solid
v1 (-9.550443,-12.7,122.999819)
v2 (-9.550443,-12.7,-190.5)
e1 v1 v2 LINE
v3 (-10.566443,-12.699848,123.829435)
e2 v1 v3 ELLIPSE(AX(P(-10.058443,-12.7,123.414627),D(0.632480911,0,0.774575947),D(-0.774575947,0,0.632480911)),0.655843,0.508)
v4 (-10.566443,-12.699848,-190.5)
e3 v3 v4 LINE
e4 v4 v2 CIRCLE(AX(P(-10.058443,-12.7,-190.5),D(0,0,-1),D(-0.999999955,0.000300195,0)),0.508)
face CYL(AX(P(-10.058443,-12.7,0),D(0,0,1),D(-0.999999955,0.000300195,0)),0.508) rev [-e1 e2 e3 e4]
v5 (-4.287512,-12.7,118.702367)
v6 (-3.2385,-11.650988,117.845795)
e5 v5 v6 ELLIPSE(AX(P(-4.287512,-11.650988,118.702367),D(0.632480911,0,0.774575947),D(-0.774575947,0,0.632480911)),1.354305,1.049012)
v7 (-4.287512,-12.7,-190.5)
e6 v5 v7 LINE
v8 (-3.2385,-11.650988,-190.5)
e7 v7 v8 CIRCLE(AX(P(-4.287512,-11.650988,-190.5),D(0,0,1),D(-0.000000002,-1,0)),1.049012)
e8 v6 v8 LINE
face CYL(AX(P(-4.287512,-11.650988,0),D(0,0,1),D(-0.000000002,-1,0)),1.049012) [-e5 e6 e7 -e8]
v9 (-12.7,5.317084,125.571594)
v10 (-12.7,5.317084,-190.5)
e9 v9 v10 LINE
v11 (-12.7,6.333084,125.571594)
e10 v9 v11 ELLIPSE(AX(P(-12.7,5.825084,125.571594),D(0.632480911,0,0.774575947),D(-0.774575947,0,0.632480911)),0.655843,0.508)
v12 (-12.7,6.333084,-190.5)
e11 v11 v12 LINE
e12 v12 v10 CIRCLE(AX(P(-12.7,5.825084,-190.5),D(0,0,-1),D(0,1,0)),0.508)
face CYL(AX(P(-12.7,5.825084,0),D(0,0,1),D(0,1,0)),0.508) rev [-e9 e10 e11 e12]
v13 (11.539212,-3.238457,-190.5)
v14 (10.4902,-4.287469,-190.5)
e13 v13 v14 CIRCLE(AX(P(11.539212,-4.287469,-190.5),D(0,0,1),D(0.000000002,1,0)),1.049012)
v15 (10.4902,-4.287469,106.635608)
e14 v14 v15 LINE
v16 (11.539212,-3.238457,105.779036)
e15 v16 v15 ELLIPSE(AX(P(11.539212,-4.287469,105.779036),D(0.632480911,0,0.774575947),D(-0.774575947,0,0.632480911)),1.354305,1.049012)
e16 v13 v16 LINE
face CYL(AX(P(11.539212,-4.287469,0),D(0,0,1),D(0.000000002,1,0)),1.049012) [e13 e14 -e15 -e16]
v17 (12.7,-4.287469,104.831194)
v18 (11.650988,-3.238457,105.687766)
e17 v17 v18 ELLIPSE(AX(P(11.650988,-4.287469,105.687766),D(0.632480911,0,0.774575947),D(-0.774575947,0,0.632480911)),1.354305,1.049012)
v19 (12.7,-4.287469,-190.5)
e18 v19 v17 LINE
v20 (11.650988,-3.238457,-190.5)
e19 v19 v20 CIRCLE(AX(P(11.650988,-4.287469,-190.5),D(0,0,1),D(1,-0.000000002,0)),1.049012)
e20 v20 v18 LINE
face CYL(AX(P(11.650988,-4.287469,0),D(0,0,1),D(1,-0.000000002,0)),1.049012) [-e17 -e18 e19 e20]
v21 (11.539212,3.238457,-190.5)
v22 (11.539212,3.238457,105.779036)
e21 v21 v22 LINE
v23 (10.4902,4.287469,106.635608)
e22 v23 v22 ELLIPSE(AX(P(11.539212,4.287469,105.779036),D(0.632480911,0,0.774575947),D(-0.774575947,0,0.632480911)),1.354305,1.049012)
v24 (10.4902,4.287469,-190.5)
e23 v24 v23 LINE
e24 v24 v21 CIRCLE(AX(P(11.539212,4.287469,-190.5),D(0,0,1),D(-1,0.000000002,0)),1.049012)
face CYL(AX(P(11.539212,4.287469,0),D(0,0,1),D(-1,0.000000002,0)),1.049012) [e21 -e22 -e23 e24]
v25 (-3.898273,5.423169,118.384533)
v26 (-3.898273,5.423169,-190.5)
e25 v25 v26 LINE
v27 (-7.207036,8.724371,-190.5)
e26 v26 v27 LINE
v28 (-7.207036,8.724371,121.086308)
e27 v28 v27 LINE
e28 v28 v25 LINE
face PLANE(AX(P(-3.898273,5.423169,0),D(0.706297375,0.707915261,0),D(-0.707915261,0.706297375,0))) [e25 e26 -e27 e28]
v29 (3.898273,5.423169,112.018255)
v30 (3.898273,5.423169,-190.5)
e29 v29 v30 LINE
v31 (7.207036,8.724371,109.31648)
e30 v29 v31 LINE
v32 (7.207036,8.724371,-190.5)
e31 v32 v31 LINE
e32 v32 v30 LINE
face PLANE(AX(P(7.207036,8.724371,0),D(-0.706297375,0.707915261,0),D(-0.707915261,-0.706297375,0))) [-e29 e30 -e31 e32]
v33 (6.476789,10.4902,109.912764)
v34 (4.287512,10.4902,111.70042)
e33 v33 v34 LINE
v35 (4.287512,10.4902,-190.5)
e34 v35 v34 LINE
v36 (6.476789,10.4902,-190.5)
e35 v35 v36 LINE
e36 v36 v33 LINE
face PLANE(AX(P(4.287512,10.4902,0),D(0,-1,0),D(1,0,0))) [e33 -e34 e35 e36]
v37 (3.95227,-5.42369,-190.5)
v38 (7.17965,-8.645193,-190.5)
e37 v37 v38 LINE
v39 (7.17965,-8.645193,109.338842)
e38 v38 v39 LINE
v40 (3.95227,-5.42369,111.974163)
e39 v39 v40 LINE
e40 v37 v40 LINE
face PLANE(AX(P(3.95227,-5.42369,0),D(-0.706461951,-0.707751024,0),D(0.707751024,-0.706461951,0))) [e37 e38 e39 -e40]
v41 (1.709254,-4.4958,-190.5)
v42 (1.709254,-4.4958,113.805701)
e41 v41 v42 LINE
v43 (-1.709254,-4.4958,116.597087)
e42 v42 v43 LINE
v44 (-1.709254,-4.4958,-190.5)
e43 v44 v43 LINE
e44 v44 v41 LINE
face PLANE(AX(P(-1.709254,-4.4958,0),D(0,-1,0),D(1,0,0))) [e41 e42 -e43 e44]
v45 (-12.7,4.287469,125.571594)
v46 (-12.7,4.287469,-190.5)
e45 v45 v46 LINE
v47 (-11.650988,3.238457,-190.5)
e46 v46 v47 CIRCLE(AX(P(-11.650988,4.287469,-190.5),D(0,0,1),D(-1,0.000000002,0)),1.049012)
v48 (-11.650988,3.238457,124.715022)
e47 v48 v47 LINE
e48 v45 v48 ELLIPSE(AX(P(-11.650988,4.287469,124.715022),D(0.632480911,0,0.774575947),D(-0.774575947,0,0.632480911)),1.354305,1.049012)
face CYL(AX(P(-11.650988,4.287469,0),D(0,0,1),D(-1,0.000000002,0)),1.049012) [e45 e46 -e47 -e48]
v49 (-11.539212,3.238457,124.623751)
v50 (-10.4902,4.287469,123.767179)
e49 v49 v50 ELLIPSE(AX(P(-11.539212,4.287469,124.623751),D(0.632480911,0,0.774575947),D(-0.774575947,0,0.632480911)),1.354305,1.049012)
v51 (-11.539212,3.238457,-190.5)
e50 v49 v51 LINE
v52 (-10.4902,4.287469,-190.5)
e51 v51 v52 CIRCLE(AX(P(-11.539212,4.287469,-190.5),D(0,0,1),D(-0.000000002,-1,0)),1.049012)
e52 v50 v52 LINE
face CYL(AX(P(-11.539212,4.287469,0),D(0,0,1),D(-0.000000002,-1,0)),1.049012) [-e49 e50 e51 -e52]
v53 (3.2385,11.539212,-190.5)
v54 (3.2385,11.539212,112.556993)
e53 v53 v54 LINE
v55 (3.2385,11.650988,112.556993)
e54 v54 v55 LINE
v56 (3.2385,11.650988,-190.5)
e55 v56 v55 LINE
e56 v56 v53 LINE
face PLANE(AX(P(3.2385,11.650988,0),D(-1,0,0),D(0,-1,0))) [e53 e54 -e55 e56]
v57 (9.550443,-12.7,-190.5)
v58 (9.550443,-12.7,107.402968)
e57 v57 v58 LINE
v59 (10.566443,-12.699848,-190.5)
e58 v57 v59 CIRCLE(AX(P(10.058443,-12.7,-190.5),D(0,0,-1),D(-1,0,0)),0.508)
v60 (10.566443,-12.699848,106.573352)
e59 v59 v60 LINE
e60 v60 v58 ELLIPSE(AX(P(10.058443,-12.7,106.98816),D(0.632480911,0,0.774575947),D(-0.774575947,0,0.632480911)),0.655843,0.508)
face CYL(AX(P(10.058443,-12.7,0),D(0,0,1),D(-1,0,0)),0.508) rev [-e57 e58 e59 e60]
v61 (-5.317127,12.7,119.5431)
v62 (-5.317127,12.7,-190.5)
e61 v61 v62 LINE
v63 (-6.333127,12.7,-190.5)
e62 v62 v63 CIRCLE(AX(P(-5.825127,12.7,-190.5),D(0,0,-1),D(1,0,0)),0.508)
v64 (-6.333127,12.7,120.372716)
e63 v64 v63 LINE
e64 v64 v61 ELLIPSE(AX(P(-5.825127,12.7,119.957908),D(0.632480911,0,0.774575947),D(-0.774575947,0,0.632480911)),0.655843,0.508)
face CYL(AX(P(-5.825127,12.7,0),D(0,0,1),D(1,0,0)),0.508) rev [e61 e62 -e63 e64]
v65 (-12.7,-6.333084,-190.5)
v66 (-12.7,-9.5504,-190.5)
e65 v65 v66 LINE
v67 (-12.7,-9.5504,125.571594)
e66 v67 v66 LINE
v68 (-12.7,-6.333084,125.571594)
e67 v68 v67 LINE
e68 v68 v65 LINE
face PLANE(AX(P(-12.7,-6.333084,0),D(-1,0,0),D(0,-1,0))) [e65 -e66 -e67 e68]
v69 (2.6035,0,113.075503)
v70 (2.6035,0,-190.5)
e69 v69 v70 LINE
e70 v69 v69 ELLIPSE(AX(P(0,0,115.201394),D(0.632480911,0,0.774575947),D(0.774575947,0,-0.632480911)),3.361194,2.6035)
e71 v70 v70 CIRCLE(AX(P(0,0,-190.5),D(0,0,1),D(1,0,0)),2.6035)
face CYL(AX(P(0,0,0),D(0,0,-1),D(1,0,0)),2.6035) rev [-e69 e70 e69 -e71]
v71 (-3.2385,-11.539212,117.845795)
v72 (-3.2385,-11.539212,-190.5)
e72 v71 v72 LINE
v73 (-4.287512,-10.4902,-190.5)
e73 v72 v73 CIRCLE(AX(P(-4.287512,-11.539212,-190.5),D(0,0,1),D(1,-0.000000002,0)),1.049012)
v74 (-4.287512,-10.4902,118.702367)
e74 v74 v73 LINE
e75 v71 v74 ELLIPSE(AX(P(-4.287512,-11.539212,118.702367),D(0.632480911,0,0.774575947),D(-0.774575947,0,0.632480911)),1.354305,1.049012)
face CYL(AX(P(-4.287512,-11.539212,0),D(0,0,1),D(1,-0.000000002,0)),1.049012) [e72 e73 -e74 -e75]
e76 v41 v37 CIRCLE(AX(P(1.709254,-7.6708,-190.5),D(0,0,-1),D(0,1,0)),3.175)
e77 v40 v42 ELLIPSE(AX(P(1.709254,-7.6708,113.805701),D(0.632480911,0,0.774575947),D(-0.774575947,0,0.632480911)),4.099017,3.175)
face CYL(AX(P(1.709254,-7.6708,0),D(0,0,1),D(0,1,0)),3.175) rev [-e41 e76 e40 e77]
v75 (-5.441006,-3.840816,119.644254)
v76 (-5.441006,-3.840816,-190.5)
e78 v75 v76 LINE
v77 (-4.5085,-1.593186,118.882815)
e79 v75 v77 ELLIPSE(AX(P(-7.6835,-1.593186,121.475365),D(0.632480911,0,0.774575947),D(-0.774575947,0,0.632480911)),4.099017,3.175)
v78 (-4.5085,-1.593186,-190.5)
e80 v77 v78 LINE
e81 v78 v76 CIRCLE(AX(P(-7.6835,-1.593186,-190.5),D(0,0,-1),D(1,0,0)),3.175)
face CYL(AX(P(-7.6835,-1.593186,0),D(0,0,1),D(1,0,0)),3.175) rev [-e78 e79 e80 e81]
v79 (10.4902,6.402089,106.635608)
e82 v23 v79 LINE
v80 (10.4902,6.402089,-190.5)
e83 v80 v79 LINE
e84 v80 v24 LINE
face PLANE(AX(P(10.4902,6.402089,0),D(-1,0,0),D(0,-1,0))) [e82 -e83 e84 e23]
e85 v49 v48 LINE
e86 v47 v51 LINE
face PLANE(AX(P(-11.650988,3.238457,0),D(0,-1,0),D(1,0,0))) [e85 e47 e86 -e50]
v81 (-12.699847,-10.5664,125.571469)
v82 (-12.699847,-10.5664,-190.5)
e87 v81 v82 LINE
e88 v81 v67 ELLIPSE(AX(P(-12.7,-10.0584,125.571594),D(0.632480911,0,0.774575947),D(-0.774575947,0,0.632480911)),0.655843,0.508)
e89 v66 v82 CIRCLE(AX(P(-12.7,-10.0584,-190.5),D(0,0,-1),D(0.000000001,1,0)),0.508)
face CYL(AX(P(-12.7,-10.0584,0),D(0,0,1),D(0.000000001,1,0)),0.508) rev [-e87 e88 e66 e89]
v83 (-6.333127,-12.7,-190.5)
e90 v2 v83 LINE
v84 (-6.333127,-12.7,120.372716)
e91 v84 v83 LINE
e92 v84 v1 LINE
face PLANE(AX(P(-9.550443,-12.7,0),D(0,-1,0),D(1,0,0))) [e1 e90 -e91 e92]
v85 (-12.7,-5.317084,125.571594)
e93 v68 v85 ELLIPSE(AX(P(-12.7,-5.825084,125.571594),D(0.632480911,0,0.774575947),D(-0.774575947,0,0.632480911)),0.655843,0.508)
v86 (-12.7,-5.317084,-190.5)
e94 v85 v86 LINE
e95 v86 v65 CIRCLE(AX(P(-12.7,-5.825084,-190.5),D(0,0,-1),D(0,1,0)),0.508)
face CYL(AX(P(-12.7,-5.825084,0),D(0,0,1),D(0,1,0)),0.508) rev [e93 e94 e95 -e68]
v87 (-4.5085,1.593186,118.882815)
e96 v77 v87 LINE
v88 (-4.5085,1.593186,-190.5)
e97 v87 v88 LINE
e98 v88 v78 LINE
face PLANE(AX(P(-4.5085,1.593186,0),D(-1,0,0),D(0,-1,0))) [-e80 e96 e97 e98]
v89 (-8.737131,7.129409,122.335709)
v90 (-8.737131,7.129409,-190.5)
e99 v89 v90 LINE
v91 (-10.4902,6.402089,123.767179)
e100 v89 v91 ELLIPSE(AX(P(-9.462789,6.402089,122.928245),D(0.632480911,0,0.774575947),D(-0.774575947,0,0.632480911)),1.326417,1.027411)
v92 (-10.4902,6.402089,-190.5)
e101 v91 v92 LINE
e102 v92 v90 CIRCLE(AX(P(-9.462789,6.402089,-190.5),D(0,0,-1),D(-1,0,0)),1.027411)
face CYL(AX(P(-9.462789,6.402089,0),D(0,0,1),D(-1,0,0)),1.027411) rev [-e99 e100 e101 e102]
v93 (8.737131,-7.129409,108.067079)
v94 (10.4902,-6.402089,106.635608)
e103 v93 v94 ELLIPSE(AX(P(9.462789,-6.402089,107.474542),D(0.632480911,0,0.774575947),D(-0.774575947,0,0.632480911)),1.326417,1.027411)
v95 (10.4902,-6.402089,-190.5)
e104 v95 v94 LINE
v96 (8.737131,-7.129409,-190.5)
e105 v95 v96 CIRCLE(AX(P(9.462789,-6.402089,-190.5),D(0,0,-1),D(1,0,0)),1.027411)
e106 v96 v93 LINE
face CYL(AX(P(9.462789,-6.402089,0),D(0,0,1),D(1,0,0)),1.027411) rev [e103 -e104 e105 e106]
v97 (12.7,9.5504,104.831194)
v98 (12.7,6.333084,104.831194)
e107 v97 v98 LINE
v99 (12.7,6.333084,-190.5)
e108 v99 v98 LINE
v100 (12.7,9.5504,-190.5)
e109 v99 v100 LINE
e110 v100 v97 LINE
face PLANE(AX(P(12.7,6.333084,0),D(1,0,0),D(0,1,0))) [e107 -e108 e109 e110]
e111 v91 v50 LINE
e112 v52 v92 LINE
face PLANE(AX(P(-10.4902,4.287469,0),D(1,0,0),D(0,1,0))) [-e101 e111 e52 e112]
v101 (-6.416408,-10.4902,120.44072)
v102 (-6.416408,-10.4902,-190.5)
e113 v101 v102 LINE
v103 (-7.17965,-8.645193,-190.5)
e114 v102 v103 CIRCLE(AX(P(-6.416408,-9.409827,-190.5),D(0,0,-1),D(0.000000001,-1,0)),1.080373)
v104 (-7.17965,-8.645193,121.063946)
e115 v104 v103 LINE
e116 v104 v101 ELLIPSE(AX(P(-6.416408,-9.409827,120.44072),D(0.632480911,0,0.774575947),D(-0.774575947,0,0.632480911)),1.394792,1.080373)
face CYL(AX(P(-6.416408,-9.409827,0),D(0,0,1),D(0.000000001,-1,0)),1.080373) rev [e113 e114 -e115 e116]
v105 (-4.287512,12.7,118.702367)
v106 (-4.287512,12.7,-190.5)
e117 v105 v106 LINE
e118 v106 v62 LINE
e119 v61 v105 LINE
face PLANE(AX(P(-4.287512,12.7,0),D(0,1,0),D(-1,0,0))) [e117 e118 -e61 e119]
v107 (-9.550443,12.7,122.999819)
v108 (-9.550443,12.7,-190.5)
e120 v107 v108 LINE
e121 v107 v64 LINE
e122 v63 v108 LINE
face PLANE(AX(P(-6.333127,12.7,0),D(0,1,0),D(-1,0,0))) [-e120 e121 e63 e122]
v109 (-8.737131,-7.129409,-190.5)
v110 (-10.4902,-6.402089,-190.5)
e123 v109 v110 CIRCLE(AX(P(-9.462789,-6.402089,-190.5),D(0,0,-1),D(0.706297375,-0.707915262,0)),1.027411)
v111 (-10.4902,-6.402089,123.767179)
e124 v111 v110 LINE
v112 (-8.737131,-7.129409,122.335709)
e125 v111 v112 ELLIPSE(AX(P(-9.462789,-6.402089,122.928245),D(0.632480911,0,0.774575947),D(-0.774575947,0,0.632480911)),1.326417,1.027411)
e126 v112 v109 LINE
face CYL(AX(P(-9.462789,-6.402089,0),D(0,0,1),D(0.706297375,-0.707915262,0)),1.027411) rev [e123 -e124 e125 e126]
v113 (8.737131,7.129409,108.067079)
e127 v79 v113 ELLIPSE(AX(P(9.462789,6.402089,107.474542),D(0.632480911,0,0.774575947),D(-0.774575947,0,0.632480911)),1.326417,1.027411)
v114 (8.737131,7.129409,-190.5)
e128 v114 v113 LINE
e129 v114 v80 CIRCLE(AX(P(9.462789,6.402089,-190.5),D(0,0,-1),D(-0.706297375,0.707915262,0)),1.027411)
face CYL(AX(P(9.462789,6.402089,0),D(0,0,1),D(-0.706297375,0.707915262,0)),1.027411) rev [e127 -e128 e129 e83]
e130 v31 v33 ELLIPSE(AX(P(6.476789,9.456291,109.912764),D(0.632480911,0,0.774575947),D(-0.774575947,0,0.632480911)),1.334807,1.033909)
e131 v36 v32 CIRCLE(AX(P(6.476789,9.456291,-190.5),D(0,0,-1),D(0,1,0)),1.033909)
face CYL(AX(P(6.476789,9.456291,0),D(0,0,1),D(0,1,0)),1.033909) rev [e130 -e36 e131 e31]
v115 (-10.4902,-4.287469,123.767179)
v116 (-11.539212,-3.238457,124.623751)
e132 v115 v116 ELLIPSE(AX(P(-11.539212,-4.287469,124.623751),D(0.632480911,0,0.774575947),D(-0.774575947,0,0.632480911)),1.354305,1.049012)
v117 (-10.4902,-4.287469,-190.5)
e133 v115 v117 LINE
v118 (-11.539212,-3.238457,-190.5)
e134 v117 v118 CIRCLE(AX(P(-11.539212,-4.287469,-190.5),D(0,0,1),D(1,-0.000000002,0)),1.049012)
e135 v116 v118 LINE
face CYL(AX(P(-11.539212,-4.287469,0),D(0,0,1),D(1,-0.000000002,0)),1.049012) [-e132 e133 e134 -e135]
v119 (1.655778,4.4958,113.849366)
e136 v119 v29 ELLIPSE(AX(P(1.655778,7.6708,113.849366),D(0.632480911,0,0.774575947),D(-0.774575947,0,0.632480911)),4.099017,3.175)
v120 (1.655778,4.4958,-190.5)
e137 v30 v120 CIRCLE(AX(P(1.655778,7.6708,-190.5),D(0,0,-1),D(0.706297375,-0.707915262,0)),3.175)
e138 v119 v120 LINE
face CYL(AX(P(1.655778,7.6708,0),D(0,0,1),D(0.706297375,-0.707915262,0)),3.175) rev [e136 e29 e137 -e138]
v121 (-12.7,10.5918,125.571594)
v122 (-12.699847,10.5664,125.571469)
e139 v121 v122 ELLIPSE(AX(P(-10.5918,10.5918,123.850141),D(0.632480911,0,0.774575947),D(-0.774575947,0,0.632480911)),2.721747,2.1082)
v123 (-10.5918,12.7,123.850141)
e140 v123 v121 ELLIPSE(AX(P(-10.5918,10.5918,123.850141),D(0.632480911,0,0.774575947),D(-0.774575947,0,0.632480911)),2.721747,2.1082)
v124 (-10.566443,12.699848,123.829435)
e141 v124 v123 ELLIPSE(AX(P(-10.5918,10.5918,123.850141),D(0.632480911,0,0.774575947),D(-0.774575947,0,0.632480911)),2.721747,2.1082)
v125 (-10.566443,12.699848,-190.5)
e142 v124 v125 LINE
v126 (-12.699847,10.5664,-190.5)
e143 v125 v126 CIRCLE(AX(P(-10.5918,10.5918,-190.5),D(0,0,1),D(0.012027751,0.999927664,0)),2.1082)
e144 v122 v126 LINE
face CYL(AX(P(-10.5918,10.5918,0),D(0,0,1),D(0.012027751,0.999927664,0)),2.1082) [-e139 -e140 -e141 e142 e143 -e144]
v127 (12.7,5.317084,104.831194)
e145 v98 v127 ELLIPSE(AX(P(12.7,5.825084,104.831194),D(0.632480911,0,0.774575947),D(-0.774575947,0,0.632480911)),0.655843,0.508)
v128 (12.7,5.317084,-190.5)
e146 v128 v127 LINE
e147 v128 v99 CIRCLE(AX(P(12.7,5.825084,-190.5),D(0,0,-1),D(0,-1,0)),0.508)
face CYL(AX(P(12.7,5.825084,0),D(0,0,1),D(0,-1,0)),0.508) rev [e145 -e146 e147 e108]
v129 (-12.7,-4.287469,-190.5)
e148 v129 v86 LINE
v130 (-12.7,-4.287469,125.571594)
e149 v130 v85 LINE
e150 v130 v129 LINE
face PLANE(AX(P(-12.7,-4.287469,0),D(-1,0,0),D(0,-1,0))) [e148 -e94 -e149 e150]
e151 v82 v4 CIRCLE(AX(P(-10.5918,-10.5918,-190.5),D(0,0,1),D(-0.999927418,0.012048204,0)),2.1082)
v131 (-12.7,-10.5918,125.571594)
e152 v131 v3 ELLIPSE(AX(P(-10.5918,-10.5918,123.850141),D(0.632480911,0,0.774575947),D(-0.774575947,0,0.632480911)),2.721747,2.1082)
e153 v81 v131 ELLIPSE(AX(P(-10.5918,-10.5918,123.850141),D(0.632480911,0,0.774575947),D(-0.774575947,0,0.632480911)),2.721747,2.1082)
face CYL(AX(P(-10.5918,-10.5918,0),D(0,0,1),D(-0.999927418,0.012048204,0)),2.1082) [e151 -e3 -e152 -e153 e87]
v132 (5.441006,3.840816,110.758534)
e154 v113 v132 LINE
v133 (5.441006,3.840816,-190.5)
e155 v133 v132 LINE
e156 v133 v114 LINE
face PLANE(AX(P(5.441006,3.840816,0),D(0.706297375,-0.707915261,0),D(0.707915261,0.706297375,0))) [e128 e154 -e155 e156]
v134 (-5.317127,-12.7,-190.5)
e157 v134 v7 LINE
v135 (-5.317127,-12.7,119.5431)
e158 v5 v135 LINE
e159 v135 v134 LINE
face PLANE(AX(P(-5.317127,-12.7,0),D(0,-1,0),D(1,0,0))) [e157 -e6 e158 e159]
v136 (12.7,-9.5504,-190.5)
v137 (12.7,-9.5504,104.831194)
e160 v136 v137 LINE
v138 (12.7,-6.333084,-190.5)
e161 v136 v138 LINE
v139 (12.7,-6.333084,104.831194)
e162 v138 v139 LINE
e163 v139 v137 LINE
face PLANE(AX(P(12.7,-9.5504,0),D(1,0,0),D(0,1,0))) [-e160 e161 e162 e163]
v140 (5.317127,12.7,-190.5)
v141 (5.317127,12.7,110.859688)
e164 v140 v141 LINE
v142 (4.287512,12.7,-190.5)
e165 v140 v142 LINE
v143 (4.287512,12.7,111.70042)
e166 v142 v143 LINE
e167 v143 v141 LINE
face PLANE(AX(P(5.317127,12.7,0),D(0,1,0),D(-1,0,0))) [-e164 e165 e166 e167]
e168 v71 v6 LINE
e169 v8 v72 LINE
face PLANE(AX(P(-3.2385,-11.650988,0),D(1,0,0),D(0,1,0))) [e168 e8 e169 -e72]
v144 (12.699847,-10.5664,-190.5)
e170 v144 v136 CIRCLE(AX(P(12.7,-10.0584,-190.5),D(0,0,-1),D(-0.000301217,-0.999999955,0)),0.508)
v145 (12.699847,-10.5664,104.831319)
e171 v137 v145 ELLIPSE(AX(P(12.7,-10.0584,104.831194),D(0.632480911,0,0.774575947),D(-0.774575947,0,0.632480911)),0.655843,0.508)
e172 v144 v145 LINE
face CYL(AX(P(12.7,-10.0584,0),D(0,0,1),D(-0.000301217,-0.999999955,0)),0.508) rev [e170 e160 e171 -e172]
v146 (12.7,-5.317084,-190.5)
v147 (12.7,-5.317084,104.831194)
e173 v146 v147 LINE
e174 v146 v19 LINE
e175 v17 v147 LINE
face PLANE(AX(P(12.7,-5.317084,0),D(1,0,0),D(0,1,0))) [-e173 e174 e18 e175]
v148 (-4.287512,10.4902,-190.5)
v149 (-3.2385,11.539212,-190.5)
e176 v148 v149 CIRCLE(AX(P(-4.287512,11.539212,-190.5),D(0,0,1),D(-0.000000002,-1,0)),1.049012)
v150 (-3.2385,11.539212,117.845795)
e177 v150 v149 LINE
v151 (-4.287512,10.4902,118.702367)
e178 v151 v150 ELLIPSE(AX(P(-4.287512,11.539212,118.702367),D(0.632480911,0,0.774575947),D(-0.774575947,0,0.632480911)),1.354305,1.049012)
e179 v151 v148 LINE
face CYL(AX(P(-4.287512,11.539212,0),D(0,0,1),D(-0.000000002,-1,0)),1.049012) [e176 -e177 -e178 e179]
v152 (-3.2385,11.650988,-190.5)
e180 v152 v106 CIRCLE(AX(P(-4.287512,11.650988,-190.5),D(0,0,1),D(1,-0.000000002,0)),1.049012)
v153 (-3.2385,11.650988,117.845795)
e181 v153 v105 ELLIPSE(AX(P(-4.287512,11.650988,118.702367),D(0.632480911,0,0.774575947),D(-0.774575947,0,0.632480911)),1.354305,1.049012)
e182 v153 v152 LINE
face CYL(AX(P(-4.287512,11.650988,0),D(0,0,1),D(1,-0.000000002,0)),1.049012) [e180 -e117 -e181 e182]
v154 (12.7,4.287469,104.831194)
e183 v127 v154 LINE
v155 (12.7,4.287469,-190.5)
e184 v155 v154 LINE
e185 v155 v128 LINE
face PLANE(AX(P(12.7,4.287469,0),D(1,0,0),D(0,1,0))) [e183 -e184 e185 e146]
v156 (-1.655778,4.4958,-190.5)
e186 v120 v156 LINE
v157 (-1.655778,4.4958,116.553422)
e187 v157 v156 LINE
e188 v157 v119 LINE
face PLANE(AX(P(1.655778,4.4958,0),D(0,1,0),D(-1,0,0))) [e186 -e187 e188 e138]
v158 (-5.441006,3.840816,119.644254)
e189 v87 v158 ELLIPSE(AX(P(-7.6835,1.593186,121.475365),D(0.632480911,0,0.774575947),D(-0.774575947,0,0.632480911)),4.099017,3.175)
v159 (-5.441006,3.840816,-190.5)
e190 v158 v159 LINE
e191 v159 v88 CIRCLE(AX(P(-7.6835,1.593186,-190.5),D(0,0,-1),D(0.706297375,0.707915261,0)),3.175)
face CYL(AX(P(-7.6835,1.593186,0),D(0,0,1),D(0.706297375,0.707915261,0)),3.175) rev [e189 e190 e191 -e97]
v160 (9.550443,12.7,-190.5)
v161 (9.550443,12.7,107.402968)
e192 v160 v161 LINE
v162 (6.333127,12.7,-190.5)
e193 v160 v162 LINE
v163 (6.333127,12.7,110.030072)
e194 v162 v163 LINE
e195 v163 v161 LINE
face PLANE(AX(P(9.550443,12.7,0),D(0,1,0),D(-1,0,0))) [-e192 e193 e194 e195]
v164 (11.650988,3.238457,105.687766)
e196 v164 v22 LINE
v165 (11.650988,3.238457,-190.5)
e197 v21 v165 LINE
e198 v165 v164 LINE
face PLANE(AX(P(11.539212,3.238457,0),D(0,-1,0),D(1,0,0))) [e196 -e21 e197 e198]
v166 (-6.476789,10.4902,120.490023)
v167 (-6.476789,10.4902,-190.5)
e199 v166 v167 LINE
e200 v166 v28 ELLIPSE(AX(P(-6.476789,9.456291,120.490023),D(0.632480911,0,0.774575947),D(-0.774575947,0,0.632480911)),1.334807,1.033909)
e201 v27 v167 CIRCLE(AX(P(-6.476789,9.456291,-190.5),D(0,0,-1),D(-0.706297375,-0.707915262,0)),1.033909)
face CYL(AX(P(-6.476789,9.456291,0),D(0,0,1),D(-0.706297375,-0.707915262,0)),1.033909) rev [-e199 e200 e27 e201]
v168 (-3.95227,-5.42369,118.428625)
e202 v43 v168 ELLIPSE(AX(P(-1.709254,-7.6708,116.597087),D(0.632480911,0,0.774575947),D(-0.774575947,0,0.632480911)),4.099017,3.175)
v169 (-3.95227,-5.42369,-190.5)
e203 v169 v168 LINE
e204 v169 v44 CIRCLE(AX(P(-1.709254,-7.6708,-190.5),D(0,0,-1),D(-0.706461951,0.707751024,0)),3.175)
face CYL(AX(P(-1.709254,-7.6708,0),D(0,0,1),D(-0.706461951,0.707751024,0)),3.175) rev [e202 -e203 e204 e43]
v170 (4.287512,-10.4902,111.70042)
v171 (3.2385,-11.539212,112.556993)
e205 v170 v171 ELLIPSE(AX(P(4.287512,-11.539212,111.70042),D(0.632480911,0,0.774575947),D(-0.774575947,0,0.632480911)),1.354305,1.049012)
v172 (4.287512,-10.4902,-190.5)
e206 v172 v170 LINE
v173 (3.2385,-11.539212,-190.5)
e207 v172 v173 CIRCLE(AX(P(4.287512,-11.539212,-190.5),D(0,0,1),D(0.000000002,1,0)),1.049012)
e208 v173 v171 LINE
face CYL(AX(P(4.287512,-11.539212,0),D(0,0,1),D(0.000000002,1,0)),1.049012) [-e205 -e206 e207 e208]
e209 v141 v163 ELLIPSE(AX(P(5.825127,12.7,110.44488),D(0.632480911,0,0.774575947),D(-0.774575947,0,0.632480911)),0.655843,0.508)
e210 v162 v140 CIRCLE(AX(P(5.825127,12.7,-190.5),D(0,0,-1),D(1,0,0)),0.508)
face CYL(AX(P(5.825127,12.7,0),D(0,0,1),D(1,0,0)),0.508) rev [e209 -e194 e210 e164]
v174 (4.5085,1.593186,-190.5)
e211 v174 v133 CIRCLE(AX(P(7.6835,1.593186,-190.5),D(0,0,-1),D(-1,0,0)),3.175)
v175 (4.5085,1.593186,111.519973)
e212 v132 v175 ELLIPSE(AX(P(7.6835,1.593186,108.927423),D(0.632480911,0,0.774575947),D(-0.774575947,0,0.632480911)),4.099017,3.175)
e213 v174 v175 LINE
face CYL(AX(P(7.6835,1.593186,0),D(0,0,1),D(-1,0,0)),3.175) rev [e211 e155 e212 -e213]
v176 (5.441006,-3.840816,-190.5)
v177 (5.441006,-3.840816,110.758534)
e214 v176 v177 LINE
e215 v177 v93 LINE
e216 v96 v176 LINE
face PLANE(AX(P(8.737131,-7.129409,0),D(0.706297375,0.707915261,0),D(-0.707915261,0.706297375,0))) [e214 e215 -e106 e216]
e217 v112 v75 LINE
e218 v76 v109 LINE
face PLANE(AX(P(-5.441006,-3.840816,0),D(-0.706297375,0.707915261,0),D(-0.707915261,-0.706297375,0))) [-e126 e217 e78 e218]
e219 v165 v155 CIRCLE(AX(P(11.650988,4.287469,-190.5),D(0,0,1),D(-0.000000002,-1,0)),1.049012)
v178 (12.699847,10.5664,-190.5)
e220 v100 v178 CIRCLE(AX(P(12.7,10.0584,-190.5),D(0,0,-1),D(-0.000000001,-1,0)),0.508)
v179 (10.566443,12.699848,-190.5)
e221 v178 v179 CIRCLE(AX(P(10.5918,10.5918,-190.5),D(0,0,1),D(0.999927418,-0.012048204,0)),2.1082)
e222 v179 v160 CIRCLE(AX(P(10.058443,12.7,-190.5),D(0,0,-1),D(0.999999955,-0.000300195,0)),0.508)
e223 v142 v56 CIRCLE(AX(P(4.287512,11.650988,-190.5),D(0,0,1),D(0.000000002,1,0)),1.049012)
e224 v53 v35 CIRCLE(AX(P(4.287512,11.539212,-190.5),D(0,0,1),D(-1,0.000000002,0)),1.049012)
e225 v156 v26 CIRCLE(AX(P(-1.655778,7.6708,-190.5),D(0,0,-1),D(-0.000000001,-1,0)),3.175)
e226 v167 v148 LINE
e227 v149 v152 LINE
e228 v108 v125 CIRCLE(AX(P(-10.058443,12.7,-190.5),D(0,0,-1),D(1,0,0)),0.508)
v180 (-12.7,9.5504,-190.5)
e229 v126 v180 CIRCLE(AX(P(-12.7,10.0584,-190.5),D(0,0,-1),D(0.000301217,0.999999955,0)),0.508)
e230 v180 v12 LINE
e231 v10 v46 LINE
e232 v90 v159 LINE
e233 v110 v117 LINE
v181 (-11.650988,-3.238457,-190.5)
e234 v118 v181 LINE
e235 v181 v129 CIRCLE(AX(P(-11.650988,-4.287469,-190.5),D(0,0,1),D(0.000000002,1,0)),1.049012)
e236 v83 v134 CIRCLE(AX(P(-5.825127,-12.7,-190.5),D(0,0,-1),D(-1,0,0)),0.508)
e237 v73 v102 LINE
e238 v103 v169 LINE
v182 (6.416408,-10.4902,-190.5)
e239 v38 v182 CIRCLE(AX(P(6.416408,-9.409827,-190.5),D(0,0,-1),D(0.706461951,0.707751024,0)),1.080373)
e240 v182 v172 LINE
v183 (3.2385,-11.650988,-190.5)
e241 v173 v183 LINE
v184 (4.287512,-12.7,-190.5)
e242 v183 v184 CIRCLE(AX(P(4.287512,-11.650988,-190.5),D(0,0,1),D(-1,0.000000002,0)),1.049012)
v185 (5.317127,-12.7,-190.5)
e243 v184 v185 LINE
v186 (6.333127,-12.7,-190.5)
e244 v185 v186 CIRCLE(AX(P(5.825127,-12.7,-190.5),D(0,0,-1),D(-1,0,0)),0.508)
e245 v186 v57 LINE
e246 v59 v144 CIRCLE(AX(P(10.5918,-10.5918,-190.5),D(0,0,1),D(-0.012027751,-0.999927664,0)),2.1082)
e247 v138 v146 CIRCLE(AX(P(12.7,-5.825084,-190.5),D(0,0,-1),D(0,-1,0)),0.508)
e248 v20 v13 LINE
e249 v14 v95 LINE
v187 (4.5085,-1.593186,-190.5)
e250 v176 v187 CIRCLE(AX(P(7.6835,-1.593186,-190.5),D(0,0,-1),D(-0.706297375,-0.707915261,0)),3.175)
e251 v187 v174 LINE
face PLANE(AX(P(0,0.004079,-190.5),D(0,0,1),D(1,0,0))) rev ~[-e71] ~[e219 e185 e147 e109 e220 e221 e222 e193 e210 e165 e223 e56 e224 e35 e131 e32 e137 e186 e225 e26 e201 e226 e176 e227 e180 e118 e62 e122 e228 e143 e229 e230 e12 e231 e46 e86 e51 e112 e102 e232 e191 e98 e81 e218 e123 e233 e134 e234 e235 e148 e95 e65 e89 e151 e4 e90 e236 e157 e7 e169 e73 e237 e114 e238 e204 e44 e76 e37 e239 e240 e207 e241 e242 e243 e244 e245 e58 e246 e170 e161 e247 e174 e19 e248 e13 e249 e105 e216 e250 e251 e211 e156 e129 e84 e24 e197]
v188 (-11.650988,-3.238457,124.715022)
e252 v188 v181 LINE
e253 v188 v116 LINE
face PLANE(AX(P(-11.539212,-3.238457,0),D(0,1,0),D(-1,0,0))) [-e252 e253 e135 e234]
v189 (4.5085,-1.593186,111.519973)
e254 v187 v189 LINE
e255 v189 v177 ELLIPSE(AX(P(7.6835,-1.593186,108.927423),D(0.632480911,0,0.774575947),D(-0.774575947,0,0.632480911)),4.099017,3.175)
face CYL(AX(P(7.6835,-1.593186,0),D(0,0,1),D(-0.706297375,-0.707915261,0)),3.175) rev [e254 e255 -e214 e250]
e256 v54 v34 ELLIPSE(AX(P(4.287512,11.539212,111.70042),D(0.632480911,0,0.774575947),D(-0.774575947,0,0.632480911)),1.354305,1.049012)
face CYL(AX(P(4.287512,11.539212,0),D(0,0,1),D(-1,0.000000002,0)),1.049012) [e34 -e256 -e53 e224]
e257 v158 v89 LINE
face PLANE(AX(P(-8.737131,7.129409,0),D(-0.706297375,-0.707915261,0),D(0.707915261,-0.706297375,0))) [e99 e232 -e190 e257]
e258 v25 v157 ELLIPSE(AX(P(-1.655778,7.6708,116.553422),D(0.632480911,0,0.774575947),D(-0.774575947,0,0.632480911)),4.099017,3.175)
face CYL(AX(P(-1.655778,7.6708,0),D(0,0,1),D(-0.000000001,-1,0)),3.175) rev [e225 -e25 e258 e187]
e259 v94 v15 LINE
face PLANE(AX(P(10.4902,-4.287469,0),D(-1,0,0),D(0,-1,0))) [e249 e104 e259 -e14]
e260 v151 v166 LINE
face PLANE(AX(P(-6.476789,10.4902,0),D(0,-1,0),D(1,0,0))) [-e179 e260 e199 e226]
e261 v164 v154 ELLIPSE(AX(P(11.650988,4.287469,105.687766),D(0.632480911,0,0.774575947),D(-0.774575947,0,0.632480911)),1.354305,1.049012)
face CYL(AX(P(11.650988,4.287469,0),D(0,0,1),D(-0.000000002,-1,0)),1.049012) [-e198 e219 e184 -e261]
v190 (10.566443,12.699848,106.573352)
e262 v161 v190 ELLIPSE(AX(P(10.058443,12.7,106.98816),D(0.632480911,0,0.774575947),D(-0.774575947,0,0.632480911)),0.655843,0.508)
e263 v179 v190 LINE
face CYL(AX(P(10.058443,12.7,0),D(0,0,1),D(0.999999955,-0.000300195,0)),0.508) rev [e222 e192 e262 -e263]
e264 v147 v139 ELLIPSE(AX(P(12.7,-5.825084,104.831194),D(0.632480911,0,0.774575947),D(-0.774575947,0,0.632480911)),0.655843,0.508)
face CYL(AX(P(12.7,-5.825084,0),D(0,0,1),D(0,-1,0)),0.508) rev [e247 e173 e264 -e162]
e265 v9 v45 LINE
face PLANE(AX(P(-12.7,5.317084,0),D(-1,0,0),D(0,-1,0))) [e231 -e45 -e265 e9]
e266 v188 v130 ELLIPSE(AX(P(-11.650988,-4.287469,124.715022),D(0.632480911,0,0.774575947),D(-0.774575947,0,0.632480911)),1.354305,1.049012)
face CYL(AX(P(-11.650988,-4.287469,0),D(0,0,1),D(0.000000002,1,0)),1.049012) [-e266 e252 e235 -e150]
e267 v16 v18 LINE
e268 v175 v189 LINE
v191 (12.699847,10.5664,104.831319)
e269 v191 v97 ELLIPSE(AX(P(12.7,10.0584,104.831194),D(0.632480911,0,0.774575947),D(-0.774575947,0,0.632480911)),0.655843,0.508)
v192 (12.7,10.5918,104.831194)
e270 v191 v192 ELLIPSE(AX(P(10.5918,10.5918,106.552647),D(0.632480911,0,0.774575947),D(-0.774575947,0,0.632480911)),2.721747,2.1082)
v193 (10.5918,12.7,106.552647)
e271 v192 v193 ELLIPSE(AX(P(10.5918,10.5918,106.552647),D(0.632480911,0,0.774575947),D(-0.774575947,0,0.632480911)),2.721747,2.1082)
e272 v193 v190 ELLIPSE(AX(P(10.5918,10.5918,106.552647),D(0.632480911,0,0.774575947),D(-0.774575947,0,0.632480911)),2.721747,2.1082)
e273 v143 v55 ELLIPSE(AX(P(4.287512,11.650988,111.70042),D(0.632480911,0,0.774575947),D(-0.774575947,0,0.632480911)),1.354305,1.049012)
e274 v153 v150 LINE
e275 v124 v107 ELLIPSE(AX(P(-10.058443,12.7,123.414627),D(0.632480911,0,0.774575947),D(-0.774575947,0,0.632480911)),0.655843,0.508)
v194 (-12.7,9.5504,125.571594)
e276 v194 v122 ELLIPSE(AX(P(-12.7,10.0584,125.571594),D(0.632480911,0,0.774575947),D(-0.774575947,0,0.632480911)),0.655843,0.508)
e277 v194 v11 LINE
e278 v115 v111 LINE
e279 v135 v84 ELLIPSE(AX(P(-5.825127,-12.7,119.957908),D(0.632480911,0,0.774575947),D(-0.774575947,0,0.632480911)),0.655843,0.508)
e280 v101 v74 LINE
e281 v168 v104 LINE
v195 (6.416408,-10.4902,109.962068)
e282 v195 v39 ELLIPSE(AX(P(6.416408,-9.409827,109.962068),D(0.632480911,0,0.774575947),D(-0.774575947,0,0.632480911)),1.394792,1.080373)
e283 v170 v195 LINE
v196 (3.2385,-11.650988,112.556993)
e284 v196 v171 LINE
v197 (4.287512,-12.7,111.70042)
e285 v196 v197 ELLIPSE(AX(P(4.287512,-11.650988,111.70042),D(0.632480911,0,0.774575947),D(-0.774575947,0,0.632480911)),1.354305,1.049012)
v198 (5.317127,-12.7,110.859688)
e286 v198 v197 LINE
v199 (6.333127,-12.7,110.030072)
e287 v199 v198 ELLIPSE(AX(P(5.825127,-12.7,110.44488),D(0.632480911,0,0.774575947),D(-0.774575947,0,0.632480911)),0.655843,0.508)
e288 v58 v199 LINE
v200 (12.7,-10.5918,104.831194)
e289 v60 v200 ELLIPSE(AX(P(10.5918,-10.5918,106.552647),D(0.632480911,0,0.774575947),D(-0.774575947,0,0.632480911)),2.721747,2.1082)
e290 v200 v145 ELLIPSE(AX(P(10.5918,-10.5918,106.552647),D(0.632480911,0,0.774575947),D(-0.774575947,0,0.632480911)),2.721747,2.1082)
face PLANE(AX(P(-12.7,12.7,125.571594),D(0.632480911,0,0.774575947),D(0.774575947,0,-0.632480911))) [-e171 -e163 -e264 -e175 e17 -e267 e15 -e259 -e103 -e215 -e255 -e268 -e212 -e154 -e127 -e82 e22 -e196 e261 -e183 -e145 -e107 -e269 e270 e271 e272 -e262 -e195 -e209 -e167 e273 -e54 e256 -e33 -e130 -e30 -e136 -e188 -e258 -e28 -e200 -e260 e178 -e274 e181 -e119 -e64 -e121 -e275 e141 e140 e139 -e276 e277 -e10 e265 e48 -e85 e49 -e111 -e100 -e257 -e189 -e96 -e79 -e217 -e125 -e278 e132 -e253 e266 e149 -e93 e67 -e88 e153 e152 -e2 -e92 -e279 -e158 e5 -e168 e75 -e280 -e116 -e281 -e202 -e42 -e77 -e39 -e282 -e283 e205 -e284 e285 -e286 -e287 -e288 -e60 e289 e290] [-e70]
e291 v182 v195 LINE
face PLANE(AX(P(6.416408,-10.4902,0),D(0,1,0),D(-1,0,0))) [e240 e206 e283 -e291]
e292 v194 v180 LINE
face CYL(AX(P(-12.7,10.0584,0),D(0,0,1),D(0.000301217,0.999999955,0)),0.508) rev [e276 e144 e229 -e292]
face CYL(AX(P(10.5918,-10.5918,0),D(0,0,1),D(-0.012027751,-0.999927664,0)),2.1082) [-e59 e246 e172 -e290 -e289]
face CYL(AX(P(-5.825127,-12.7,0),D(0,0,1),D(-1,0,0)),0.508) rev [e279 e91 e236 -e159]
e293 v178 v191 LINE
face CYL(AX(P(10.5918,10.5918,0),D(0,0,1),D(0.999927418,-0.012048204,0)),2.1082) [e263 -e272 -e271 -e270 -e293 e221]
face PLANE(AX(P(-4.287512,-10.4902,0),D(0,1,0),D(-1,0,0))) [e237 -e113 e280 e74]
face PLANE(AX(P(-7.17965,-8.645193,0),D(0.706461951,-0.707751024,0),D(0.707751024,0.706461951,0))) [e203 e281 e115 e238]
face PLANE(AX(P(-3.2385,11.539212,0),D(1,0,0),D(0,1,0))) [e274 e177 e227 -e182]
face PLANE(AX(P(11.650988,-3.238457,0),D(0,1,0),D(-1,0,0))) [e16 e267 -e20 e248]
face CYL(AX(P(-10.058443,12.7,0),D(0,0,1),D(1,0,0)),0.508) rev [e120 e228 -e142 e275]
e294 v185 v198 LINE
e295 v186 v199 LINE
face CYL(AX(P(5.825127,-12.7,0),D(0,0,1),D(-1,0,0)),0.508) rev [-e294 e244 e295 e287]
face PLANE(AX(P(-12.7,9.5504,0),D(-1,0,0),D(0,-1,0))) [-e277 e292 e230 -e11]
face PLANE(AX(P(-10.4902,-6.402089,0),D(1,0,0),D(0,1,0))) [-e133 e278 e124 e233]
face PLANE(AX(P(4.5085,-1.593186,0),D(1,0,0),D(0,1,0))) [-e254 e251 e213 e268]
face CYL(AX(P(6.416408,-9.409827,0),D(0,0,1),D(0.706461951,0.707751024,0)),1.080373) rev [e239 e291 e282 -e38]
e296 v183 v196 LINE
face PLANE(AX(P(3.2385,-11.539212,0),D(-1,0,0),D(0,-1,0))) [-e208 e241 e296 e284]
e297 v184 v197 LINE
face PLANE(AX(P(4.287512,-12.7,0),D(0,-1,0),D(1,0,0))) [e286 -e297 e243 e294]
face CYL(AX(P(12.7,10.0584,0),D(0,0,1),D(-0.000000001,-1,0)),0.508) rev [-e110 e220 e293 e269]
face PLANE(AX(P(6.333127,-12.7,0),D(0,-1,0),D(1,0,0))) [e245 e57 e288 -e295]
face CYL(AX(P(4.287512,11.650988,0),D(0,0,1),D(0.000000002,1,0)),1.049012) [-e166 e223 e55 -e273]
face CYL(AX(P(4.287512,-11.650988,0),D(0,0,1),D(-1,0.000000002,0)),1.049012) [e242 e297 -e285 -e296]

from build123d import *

# Parameters (mm, degrees)
SKETCH1_R           = 2.6035
BOSS_EXTRUDE1_DEPTH = 190.5
CUT_EXTRUDE1_DEPTH  = 193.605036279


with BuildPart() as part:
    # Sketch1 → Boss-Extrude1 (new, symmetric)
    with BuildSketch(Plane.XY):
        with BuildLine():
            Line((-7.179650497, -8.645192506), (-3.952270251, -5.423690499))
            ThreePointArc((-3.952270251, -5.423690499), (-2.922936451, -4.736929036), (-1.709253557, -4.4958))
            Line((-1.709253557, -4.4958), (1.709253557, -4.4958))
            ThreePointArc((1.709253557, -4.4958), (2.922936451, -4.736929036), (3.952270251, -5.423690499))
            Line((3.952270251, -5.423690499), (7.179650497, -8.645192506))
            ThreePointArc((7.179650497, -8.645192506), (7.41473083, -9.822813117), (6.416408329, -10.4902))
            Line((6.416408329, -10.4902), (4.287512407, -10.4902))
            ThreePointArc((4.287512407, -10.4902), (3.54574862, -10.79744862), (3.2385, -11.539212407))
            Line((3.2385, -11.539212407), (3.2385, -11.650987593))
            ThreePointArc((3.2385, -11.650987593), (3.54574862, -12.39275138), (4.287512407, -12.7))
            Line((4.287512407, -12.7), (5.317126718, -12.7))
            ThreePointArc((5.317126718, -12.7), (5.825126718, -12.192), (6.333126718, -12.7))
            Line((6.333126718, -12.7), (9.550443118, -12.7))
            ThreePointArc((9.550443118, -12.7), (10.058366869, -12.192000006), (10.566443095, -12.699847501))
            ThreePointArc((10.566443095, -12.699847501), (12.082537762, -12.08250727), (12.699846982, -10.566399977))
            ThreePointArc((12.699846982, -10.566399977), (12.192000006, -10.058323491), (12.7, -9.5504))
            Line((12.7, -9.5504), (12.7, -6.3330836))
            ThreePointArc((12.7, -6.3330836), (12.192, -5.8250836), (12.7, -5.3170836))
            Line((12.7, -5.3170836), (12.7, -4.287469289))
            ThreePointArc((12.7, -4.287469289), (12.39275138, -3.545705502), (11.650987593, -3.238456882))
            Line((11.650987593, -3.238456882), (11.539212407, -3.238456882))
            ThreePointArc((11.539212407, -3.238456882), (10.79744862, -3.545705502), (10.4902, -4.287469289))
            Line((10.4902, -4.287469289), (10.4902, -6.402089023))
            ThreePointArc((10.4902, -6.402089023), (9.856505071, -7.351067942), (8.737131347, -7.129408934))
            Line((8.737131347, -7.129408934), (5.441005833, -3.840816462))
            ThreePointArc((5.441005833, -3.840816462), (4.750877967, -2.809883091), (4.5085, -1.593185507))
            Line((4.5085, -1.593185507), (4.5085, 1.593185507))
            ThreePointArc((4.5085, 1.593185507), (4.750877967, 2.809883091), (5.441005833, 3.840816462))
            Line((5.441005833, 3.840816462), (8.737131347, 7.129408934))
            ThreePointArc((8.737131347, 7.129408934), (9.856505071, 7.351067942), (10.4902, 6.402089023))
            Line((10.4902, 6.402089023), (10.4902, 4.287469289))
            ThreePointArc((10.4902, 4.287469289), (10.79744862, 3.545705502), (11.539212407, 3.238456882))
            Line((11.539212407, 3.238456882), (11.650987593, 3.238456882))
            ThreePointArc((11.650987593, 3.238456882), (12.39275138, 3.545705502), (12.7, 4.287469289))
            Line((12.7, 4.287469289), (12.7, 5.3170836))
            ThreePointArc((12.7, 5.3170836), (12.192, 5.8250836), (12.7, 6.3330836))
            Line((12.7, 6.3330836), (12.7, 9.5504))
            ThreePointArc((12.7, 9.5504), (12.192000006, 10.058323491), (12.699846982, 10.566399977))
            ThreePointArc((12.699846982, 10.566399977), (12.082537762, 12.08250727), (10.566443095, 12.699847501))
            ThreePointArc((10.566443095, 12.699847501), (10.058366869, 12.192000006), (9.550443118, 12.7))
            Line((9.550443118, 12.7), (6.333126718, 12.7))
            ThreePointArc((6.333126718, 12.7), (5.825126718, 12.192), (5.317126718, 12.7))
            Line((5.317126718, 12.7), (4.287512407, 12.7))
            ThreePointArc((4.287512407, 12.7), (3.54574862, 12.39275138), (3.2385, 11.650987593))
            Line((3.2385, 11.650987593), (3.2385, 11.539212407))
            ThreePointArc((3.2385, 11.539212407), (3.54574862, 10.79744862), (4.287512407, 10.4902))
            Line((4.287512407, 10.4902), (6.476788598, 10.4902))
            ThreePointArc((6.476788598, 10.4902), (7.432222385, 9.85140422), (7.207036008, 8.724370562))
            Line((7.207036008, 8.724370562), (3.898272566, 5.423169045))
            ThreePointArc((3.898272566, 5.423169045), (2.869120213, 4.736787962), (1.655778399, 4.4958))
            Line((1.655778399, 4.4958), (-1.655778399, 4.4958))
            ThreePointArc((-1.655778399, 4.4958), (-2.869120213, 4.736787962), (-3.898272566, 5.423169045))
            Line((-3.898272566, 5.423169045), (-7.207036008, 8.724370562))
            ThreePointArc((-7.207036008, 8.724370562), (-7.432222385, 9.85140422), (-6.476788598, 10.4902))
            Line((-6.476788598, 10.4902), (-4.287512407, 10.4902))
            ThreePointArc((-4.287512407, 10.4902), (-3.54574862, 10.79744862), (-3.2385, 11.539212407))
            Line((-3.2385, 11.539212407), (-3.2385, 11.650987593))
            ThreePointArc((-3.2385, 11.650987593), (-3.54574862, 12.39275138), (-4.287512407, 12.7))
            Line((-4.287512407, 12.7), (-5.317126718, 12.7))
            ThreePointArc((-5.317126718, 12.7), (-5.825126718, 12.192), (-6.333126718, 12.7))
            Line((-6.333126718, 12.7), (-9.550443118, 12.7))
            ThreePointArc((-9.550443118, 12.7), (-10.058366869, 12.192000006), (-10.566443095, 12.699847501))
            ThreePointArc((-10.566443095, 12.699847501), (-12.082537762, 12.08250727), (-12.699846982, 10.566399977))
            ThreePointArc((-12.699846982, 10.566399977), (-12.192000006, 10.058323491), (-12.7, 9.5504))
            Line((-12.7, 9.5504), (-12.7, 6.3330836))
            ThreePointArc((-12.7, 6.3330836), (-12.192, 5.8250836), (-12.7, 5.3170836))
            Line((-12.7, 5.3170836), (-12.7, 4.287469289))
            ThreePointArc((-12.7, 4.287469289), (-12.39275138, 3.545705502), (-11.650987593, 3.238456882))
            Line((-11.650987593, 3.238456882), (-11.539212407, 3.238456882))
            ThreePointArc((-11.539212407, 3.238456882), (-10.79744862, 3.545705502), (-10.4902, 4.287469289))
            Line((-10.4902, 4.287469289), (-10.4902, 6.402089023))
            ThreePointArc((-10.4902, 6.402089023), (-9.856505071, 7.351067942), (-8.737131347, 7.129408934))
            Line((-8.737131347, 7.129408934), (-5.441005833, 3.840816462))
            ThreePointArc((-5.441005833, 3.840816462), (-4.750877967, 2.809883091), (-4.5085, 1.593185507))
            Line((-4.5085, 1.593185507), (-4.5085, -1.593185507))
            ThreePointArc((-4.5085, -1.593185507), (-4.750877967, -2.809883091), (-5.441005833, -3.840816462))
            Line((-5.441005833, -3.840816462), (-8.737131347, -7.129408934))
            ThreePointArc((-8.737131347, -7.129408934), (-9.856505071, -7.351067942), (-10.4902, -6.402089023))
            Line((-10.4902, -6.402089023), (-10.4902, -4.287469289))
            ThreePointArc((-10.4902, -4.287469289), (-10.79744862, -3.545705502), (-11.539212407, -3.238456882))
            Line((-11.539212407, -3.238456882), (-11.650987593, -3.238456882))
            ThreePointArc((-11.650987593, -3.238456882), (-12.39275138, -3.545705502), (-12.7, -4.287469289))
            Line((-12.7, -4.287469289), (-12.7, -5.3170836))
            ThreePointArc((-12.7, -5.3170836), (-12.192, -5.8250836), (-12.7, -6.3330836))
            Line((-12.7, -6.3330836), (-12.7, -9.5504))
            ThreePointArc((-12.7, -9.5504), (-12.192000006, -10.058323491), (-12.699846982, -10.566399977))
            ThreePointArc((-12.699846982, -10.566399977), (-12.082537762, -12.08250727), (-10.566443095, -12.699847501))
            ThreePointArc((-10.566443095, -12.699847501), (-10.058366869, -12.192000006), (-9.550443118, -12.7))
            Line((-9.550443118, -12.7), (-6.333126718, -12.7))
            ThreePointArc((-6.333126718, -12.7), (-5.825126718, -12.192), (-5.317126718, -12.7))
            Line((-5.317126718, -12.7), (-4.287512407, -12.7))
            ThreePointArc((-4.287512407, -12.7), (-3.54574862, -12.39275138), (-3.2385, -11.650987593))
            Line((-3.2385, -11.650987593), (-3.2385, -11.539212407))
            ThreePointArc((-3.2385, -11.539212407), (-3.54574862, -10.79744862), (-4.287512407, -10.4902))
            Line((-4.287512407, -10.4902), (-6.416408329, -10.4902))
            ThreePointArc((-6.416408329, -10.4902), (-7.41473083, -9.822813117), (-7.179650497, -8.645192506))
        make_face()
        Circle(SKETCH1_R, mode=Mode.SUBTRACT)
    extrude(amount=BOSS_EXTRUDE1_DEPTH, both=True)

    # Sketch2 → Cut-Extrude1 (cut, through all)
    with BuildSketch(Plane(origin=(0, 12.7, 0), x_dir=(1, 0, 0), z_dir=(0, 1, 0))):
        Polygon((12.7, -190.5), (-12.7, -190.5), (-12.7, -125.571593893), (12.7, -104.831193661), align=None)
    extrude(amount=-CUT_EXTRUDE1_DEPTH, mode=Mode.SUBTRACT)


solid = part.part
